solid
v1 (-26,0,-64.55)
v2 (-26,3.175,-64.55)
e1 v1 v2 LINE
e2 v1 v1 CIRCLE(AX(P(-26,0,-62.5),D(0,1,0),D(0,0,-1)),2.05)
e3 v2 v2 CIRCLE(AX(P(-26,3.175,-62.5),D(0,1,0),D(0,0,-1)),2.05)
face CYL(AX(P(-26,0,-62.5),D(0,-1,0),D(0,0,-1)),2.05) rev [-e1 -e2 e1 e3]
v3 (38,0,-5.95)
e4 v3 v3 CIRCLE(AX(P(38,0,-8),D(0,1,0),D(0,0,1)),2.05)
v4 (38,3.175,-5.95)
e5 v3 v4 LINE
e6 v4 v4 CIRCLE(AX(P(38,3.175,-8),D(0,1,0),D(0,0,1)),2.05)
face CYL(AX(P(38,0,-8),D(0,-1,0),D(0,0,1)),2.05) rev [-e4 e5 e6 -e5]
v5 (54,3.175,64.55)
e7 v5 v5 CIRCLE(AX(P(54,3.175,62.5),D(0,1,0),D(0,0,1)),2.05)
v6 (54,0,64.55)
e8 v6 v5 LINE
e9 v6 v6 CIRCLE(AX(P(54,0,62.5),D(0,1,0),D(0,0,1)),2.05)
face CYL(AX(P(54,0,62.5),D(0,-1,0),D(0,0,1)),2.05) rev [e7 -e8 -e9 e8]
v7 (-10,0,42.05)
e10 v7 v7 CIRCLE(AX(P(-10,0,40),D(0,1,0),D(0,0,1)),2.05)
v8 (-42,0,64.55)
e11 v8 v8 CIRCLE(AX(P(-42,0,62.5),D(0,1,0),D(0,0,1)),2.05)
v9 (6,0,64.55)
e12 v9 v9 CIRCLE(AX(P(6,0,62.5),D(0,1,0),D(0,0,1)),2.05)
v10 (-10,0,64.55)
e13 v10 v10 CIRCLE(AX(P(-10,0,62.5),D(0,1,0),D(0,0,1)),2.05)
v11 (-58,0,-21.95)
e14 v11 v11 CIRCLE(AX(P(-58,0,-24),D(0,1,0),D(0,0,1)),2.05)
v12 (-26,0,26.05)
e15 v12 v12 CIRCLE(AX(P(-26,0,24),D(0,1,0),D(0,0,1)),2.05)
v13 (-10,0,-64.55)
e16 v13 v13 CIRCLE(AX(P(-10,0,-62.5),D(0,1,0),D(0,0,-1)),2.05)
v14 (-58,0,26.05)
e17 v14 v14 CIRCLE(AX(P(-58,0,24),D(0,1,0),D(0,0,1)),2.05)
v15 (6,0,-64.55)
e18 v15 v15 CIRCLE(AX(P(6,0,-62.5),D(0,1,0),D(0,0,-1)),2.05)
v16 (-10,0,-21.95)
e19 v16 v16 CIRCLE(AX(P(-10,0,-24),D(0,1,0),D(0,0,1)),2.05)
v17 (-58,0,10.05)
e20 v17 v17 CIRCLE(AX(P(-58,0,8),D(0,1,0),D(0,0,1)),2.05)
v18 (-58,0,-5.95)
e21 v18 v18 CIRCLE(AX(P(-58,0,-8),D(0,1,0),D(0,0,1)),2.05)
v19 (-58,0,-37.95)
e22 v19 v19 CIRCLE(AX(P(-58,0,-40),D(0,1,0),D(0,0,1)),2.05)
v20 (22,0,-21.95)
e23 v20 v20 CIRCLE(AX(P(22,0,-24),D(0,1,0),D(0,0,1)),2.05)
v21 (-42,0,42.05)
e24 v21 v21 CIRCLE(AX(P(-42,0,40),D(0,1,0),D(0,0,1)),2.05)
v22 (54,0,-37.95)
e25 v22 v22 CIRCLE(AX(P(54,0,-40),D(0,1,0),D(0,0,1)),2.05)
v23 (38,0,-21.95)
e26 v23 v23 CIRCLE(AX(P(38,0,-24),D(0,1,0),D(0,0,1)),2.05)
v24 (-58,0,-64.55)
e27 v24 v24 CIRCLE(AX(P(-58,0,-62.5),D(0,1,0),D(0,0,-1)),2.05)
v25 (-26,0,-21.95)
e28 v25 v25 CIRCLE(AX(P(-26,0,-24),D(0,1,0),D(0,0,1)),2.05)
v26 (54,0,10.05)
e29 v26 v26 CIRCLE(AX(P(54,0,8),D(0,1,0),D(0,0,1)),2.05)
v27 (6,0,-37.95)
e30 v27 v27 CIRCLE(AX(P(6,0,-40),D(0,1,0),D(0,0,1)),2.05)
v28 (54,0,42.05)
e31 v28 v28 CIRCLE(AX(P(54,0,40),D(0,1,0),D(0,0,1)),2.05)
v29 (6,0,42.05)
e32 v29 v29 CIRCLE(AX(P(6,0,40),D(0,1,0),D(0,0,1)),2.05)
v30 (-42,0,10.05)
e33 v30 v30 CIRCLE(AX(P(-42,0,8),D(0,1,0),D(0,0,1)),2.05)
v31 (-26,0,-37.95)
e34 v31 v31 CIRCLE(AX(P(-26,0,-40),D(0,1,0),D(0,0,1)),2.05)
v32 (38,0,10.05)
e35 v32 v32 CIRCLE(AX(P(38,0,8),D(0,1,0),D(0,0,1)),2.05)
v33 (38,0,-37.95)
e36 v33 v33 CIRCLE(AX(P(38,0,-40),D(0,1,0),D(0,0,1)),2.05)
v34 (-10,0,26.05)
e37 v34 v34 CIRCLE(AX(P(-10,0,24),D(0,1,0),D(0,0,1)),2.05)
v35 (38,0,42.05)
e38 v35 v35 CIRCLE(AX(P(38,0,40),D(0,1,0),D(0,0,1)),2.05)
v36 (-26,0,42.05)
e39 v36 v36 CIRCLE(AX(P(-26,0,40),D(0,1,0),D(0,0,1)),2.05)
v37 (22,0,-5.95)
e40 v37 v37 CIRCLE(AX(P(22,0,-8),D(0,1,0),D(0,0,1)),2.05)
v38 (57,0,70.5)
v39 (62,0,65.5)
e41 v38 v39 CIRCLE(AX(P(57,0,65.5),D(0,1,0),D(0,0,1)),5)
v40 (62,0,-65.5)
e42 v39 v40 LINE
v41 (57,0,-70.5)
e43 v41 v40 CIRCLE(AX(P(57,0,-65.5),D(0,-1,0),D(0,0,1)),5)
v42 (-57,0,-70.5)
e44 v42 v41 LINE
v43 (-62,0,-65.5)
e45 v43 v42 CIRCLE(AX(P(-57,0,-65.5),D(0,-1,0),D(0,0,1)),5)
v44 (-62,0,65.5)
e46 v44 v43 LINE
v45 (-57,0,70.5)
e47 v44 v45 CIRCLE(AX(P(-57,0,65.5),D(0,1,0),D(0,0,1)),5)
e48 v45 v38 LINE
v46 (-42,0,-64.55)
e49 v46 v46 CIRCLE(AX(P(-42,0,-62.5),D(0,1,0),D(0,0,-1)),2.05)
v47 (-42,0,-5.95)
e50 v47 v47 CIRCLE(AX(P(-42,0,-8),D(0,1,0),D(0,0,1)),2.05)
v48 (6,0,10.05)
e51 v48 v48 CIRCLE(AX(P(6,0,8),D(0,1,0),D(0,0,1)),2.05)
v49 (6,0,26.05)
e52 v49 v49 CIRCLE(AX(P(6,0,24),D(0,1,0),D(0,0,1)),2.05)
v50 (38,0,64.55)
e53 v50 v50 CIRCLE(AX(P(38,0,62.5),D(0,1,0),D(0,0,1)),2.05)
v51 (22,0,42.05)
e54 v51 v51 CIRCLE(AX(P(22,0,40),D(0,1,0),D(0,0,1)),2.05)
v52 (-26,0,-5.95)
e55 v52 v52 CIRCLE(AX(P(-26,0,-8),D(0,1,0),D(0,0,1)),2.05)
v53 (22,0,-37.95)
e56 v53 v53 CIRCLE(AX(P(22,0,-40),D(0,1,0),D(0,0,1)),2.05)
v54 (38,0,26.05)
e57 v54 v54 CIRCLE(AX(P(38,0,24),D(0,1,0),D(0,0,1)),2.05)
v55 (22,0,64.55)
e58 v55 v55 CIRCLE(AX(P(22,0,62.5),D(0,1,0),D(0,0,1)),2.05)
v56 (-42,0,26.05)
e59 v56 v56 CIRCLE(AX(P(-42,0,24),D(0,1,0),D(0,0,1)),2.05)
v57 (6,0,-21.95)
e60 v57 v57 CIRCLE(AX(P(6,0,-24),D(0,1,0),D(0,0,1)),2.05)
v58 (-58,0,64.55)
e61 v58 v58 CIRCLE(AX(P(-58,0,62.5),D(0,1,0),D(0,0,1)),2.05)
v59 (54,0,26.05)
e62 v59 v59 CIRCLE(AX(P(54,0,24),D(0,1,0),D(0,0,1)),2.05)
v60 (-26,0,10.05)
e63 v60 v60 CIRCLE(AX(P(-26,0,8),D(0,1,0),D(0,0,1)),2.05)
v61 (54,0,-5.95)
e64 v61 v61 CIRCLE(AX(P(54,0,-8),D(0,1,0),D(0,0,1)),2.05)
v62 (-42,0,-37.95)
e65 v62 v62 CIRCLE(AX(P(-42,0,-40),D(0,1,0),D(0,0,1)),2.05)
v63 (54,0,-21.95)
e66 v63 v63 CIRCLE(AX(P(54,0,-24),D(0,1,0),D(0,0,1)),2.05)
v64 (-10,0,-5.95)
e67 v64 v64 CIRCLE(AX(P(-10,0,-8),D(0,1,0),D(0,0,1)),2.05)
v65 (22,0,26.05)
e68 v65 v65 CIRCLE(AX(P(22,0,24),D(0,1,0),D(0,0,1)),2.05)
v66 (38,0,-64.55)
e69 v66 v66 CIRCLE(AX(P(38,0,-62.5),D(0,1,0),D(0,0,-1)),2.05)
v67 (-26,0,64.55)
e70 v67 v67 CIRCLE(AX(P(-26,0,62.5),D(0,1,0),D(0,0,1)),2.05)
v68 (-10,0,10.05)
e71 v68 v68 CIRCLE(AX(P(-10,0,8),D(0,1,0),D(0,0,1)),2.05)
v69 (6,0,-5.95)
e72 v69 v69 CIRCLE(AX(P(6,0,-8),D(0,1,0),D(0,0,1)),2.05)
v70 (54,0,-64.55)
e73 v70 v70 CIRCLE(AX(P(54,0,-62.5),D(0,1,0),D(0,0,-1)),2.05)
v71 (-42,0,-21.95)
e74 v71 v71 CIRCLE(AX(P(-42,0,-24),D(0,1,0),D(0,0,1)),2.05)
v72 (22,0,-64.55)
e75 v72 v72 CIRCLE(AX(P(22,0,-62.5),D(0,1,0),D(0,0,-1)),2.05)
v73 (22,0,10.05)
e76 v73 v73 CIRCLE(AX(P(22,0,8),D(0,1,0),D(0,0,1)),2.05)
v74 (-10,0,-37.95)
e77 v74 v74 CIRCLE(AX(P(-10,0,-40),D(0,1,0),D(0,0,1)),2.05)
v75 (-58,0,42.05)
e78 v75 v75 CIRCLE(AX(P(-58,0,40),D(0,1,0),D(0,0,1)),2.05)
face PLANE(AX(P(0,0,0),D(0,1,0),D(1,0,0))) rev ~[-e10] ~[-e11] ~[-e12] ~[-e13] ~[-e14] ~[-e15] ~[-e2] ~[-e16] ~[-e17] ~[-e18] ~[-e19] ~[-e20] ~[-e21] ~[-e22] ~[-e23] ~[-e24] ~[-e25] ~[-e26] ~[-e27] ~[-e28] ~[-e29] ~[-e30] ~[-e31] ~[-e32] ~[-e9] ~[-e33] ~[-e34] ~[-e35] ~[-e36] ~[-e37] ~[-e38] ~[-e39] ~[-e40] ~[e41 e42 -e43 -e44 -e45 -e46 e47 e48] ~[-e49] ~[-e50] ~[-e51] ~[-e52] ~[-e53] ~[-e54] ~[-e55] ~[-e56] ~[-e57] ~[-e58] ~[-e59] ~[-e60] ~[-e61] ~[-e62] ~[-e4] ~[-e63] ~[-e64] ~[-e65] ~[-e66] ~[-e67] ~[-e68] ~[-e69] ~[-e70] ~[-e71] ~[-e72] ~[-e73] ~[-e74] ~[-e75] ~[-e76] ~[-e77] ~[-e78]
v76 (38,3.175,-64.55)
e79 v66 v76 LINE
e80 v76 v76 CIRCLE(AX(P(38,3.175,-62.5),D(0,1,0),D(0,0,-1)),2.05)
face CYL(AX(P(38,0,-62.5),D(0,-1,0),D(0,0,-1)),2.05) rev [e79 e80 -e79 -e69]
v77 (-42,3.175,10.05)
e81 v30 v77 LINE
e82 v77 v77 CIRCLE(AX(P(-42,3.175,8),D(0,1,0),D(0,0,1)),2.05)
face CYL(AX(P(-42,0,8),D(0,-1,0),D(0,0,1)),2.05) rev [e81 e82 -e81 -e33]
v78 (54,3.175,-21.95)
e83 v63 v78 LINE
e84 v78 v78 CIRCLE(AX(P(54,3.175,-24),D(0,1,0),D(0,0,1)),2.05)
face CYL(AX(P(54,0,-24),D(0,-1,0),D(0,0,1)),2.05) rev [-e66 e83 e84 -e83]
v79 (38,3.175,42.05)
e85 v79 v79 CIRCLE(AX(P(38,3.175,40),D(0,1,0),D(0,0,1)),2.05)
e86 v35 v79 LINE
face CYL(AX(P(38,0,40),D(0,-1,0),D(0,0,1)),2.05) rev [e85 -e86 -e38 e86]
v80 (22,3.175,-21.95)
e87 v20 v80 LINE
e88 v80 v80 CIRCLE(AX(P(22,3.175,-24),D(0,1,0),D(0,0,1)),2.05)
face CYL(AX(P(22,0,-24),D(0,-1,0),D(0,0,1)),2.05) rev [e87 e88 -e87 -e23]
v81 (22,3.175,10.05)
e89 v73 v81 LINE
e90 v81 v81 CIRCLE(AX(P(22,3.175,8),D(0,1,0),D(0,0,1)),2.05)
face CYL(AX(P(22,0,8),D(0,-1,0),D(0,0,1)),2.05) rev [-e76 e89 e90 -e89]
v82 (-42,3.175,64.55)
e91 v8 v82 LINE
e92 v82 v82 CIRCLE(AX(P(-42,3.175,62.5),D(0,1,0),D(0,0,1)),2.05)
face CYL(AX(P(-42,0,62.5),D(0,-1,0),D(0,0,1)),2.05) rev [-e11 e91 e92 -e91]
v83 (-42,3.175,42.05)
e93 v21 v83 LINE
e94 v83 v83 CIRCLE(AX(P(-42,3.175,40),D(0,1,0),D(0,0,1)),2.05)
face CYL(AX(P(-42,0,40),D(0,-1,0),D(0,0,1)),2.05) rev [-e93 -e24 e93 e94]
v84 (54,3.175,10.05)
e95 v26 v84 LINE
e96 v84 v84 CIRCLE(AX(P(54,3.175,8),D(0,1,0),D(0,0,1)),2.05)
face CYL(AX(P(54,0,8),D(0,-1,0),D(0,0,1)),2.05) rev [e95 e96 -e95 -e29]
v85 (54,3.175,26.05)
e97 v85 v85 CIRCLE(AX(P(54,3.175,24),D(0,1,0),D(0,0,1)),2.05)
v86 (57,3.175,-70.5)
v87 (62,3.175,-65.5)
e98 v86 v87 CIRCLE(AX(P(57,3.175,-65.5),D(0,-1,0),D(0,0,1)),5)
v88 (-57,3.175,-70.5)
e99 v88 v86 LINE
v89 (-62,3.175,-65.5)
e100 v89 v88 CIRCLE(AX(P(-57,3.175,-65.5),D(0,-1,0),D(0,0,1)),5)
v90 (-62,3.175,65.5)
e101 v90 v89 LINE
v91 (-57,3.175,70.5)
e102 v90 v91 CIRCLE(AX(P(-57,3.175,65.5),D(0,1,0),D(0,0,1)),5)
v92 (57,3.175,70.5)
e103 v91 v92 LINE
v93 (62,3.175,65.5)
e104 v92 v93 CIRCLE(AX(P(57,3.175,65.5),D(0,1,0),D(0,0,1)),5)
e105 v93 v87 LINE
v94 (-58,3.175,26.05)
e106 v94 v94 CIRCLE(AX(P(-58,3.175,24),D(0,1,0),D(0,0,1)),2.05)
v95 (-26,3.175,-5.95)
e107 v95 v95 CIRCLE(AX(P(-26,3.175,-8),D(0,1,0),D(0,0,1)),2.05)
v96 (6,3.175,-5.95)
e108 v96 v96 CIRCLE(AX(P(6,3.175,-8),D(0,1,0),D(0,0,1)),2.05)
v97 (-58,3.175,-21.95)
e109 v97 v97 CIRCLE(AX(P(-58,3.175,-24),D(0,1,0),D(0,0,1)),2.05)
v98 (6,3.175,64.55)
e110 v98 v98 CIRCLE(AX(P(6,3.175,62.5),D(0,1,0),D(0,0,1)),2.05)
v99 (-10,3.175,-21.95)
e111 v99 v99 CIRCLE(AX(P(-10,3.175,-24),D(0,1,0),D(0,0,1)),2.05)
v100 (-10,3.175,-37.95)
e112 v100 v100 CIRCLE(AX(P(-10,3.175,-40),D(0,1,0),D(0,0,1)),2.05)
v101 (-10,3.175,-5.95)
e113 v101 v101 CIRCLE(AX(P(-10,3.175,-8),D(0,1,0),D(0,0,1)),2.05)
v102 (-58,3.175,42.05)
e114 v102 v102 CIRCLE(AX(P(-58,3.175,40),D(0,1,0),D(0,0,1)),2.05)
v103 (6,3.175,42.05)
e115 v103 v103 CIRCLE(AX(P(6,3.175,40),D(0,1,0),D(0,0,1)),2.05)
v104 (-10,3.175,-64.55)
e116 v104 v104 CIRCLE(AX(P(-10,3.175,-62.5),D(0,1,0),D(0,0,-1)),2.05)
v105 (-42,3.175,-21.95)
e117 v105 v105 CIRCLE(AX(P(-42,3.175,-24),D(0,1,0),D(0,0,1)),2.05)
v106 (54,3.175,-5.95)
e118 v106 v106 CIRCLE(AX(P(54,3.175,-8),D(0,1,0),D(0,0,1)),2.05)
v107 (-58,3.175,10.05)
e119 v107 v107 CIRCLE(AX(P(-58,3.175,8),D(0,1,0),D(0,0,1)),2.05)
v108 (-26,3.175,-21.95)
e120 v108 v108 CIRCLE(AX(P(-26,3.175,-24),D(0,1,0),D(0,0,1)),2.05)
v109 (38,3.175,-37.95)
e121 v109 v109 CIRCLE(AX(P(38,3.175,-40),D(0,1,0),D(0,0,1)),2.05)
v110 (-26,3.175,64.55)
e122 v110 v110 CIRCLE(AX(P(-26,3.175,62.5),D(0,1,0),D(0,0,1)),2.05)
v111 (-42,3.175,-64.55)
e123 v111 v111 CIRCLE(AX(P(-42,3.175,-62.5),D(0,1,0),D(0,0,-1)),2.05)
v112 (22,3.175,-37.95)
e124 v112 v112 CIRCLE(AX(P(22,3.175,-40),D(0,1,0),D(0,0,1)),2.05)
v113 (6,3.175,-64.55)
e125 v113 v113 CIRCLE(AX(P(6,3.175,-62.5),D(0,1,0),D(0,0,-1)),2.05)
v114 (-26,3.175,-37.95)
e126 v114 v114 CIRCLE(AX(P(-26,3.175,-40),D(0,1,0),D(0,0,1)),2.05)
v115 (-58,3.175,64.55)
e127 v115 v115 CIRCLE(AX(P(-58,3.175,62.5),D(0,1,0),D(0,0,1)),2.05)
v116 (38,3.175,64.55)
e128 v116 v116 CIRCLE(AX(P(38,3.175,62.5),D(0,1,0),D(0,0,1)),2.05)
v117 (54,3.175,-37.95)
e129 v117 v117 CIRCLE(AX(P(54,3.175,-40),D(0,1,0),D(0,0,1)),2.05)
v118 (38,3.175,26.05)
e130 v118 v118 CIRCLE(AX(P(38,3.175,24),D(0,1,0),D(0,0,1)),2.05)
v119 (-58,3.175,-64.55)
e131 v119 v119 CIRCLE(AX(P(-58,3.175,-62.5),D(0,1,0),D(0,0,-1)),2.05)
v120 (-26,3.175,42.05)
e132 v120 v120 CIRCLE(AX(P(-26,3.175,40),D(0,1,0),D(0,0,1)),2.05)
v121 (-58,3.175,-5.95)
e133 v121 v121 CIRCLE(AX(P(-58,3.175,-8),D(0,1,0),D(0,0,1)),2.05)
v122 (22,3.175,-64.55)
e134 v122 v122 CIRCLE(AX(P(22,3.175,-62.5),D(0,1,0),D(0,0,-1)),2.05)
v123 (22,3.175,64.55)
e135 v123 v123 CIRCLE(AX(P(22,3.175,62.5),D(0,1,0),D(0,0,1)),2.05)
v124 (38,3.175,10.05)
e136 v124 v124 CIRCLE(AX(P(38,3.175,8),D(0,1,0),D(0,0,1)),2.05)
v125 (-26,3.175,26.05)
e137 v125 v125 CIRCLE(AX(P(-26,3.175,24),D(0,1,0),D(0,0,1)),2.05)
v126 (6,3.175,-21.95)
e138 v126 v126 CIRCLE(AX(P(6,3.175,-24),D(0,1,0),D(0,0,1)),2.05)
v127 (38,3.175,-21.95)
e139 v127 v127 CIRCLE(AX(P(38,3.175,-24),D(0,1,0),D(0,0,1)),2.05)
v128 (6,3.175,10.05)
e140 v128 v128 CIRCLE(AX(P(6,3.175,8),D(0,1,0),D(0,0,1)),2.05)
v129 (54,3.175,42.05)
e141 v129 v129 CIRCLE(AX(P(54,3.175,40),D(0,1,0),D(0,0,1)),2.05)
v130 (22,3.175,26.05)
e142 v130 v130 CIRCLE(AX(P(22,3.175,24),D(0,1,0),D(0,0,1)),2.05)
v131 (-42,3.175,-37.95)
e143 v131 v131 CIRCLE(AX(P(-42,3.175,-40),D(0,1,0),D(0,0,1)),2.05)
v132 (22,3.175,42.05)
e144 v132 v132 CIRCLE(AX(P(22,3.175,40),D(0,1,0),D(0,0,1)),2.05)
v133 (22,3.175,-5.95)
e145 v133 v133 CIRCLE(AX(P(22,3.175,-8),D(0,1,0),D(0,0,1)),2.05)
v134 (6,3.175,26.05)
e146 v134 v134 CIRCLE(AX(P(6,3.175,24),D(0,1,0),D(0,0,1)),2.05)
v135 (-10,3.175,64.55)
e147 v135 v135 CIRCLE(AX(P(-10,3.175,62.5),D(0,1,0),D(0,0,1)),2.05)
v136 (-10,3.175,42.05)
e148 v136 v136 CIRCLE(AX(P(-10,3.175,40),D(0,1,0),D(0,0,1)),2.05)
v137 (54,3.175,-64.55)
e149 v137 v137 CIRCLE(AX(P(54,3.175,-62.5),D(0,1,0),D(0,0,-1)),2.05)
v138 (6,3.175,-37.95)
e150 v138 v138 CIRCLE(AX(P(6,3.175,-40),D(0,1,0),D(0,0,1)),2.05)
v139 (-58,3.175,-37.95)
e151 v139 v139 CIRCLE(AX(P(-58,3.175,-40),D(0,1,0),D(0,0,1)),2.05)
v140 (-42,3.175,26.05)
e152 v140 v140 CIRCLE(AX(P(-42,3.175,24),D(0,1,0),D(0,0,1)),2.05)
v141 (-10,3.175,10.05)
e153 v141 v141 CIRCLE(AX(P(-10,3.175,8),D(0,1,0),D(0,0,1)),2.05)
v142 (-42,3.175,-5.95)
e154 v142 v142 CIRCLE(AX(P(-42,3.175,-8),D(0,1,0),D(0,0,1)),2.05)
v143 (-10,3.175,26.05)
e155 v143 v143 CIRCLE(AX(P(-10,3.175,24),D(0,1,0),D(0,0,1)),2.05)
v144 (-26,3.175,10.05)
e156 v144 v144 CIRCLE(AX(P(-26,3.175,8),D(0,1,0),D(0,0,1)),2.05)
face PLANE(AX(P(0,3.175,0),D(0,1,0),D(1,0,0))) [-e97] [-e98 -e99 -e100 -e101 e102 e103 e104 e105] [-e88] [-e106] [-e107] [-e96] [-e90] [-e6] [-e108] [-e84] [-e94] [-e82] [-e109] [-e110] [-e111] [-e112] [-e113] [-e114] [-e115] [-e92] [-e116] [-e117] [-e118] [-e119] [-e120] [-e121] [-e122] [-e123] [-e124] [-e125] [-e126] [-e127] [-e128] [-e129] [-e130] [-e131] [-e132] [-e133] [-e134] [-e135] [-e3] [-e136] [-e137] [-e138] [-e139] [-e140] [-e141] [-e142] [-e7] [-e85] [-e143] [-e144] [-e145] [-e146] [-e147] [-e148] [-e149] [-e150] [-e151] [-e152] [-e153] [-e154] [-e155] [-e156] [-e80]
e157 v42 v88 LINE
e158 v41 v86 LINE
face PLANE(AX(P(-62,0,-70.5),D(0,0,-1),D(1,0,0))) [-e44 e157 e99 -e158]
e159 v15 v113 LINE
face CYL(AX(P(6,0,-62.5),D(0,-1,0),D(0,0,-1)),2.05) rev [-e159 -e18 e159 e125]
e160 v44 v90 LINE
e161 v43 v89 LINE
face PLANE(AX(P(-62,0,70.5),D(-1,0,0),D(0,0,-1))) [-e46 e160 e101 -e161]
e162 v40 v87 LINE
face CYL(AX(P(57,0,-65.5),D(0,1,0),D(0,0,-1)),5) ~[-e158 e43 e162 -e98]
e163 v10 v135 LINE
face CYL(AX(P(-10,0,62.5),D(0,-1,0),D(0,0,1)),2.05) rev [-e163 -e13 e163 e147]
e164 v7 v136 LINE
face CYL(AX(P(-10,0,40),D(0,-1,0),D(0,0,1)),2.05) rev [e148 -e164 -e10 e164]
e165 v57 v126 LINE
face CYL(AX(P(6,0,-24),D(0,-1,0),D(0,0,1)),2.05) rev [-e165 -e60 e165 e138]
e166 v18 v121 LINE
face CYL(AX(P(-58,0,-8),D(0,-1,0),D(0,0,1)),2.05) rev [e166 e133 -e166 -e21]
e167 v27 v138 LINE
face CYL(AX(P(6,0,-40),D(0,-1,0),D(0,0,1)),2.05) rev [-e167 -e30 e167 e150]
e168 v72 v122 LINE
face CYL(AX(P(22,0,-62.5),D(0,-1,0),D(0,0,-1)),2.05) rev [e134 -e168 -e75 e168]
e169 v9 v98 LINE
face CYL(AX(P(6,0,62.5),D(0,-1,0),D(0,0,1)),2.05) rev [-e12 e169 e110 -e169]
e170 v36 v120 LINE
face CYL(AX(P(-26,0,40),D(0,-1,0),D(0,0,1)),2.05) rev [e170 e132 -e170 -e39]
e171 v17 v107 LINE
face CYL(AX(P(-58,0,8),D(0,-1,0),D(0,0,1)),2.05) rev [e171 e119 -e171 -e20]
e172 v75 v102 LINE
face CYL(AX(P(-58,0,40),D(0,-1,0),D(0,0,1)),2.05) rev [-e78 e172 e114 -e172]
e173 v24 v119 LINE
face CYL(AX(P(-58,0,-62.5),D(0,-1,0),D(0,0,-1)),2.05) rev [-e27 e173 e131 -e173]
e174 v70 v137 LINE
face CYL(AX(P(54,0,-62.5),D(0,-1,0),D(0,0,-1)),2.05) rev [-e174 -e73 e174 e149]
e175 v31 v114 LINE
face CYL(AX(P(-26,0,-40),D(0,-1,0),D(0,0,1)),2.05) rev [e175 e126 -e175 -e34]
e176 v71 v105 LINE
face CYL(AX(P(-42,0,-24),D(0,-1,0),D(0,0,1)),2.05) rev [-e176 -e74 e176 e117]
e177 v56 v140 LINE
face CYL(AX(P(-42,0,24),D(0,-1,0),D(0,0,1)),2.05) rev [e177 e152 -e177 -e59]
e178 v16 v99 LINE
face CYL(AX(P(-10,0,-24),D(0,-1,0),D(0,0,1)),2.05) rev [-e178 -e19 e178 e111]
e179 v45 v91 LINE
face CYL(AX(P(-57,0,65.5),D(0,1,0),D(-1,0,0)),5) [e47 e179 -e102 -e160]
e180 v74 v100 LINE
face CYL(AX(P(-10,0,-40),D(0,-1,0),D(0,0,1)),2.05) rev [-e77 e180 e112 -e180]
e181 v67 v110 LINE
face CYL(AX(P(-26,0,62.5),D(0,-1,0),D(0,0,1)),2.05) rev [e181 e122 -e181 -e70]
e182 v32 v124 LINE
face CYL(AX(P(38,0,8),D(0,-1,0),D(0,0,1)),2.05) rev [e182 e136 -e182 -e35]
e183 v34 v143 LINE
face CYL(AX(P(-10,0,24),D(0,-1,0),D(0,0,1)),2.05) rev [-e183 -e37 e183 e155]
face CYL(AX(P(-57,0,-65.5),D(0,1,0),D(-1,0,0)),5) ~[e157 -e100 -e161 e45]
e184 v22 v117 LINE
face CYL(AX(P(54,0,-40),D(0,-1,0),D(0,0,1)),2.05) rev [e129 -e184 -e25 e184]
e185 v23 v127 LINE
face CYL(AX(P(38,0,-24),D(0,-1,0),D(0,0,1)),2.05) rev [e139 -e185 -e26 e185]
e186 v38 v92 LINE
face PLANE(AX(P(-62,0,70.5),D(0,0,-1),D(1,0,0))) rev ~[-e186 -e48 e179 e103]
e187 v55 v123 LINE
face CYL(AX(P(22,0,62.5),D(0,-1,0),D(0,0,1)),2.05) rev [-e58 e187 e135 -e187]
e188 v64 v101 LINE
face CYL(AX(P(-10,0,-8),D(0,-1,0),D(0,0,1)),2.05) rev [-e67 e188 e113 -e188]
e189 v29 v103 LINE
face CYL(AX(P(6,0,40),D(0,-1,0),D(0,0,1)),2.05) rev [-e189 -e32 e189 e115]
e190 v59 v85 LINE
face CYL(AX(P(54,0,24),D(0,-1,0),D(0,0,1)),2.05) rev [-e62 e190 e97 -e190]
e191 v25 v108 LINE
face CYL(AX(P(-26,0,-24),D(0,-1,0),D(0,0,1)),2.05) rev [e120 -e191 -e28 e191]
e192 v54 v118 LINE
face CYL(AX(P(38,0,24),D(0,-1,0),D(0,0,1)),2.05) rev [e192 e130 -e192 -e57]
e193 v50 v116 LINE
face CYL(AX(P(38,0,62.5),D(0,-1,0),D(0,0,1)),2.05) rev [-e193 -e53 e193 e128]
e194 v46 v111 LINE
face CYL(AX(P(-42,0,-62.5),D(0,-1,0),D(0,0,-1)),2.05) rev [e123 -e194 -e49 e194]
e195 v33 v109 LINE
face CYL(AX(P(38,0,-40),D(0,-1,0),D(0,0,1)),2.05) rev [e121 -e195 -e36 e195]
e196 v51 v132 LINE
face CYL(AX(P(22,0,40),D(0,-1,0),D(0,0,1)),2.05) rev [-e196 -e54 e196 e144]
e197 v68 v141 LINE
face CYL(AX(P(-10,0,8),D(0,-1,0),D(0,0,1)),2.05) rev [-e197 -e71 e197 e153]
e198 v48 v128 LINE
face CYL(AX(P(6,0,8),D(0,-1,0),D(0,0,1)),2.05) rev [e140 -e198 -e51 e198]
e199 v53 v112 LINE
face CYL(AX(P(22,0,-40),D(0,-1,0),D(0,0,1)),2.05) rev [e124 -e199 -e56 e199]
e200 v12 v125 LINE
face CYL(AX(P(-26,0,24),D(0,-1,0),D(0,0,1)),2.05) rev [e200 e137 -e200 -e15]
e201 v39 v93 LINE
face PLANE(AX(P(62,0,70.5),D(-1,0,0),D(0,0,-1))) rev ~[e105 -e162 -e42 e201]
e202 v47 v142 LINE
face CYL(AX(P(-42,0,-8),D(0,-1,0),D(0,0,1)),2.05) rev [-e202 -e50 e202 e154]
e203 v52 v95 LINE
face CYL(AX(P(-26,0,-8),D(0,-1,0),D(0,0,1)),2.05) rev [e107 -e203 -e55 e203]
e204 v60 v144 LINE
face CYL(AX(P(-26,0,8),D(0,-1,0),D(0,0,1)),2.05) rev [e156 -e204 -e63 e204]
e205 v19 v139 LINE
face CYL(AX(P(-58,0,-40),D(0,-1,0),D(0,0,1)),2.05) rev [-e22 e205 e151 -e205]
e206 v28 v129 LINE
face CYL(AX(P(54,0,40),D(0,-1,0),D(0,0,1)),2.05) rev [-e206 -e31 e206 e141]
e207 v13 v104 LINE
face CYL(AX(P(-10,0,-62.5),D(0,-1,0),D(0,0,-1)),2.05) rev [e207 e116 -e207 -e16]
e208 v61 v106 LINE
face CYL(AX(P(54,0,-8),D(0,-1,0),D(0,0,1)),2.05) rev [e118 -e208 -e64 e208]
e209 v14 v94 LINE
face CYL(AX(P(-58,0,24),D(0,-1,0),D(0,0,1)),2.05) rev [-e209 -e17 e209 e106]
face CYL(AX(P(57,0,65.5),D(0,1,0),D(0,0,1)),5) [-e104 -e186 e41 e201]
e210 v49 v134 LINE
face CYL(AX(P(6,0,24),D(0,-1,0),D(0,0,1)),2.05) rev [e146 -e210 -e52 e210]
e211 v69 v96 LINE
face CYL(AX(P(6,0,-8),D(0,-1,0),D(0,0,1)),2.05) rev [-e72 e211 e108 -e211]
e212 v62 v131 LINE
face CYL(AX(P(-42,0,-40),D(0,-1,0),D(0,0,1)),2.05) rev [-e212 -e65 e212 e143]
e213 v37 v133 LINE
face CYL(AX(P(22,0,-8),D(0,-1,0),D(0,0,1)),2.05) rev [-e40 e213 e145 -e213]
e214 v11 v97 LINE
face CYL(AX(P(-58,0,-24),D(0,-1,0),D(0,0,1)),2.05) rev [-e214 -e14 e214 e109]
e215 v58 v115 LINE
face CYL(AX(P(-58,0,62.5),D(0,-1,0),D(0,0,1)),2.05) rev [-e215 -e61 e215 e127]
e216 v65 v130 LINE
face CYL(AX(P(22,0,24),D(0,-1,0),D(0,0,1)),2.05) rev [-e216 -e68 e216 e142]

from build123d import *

# Parameters (mm, degrees)
SKETCH1_W           = 124
SKETCH1_H           = 141
SKETCH1_R           = 2.05
BOSS_EXTRUDE1_DEPTH = 3.175
FILLET1_R           = 5


with BuildPart() as part:
    # Sketch1 → Boss-Extrude1 (new body)
    with BuildSketch(Plane(origin=(0, 0, 0), x_dir=(1, 0, 0), z_dir=(0, 1, 0))):
        Rectangle(SKETCH1_W, SKETCH1_H)
        with Locations(Location((-58, -62.5, 0), (0, 0, 270))):
            Circle(SKETCH1_R, mode=Mode.SUBTRACT)
        with Locations(Location((-42, -62.5, 0), (0, 0, 270))):
            Circle(SKETCH1_R, mode=Mode.SUBTRACT)
        with Locations(Location((-26, -62.5, 0), (0, 0, 270))):
            Circle(SKETCH1_R, mode=Mode.SUBTRACT)
        with Locations(Location((-10, -62.5, 0), (0, 0, 270))):
            Circle(SKETCH1_R, mode=Mode.SUBTRACT)
        with Locations(Location((6, -62.5, 0), (0, 0, 270))):
            Circle(SKETCH1_R, mode=Mode.SUBTRACT)
        with Locations(Location((22, -62.5, 0), (0, 0, 270))):
            Circle(SKETCH1_R, mode=Mode.SUBTRACT)
        with Locations(Location((38, -62.5, 0), (0, 0, 270))):
            Circle(SKETCH1_R, mode=Mode.SUBTRACT)
        with Locations(Location((54, -62.5, 0), (0, 0, 270))):
            Circle(SKETCH1_R, mode=Mode.SUBTRACT)
        with Locations(Location((38, -40, 0), (0, 0, 270))):
            Circle(SKETCH1_R, mode=Mode.SUBTRACT)
        with Locations(Location((22, -40, 0), (0, 0, 270))):
            Circle(SKETCH1_R, mode=Mode.SUBTRACT)
        with Locations(Location((6, -40, 0), (0, 0, 270))):
            Circle(SKETCH1_R, mode=Mode.SUBTRACT)
        with Locations(Location((-10, -40, 0), (0, 0, 270))):
            Circle(SKETCH1_R, mode=Mode.SUBTRACT)
        with Locations(Location((-26, -40, 0), (0, 0, 270))):
            Circle(SKETCH1_R, mode=Mode.SUBTRACT)
        with Locations(Location((-42, -40, 0), (0, 0, 270))):
            Circle(SKETCH1_R, mode=Mode.SUBTRACT)
        with Locations(Location((-58, -40, 0), (0, 0, 270))):
            Circle(SKETCH1_R, mode=Mode.SUBTRACT)
        with Locations(Location((38, -24, 0), (0, 0, 270))):
            Circle(SKETCH1_R, mode=Mode.SUBTRACT)
        with Locations(Location((22, -24, 0), (0, 0, 270))):
            Circle(SKETCH1_R, mode=Mode.SUBTRACT)
        with Locations(Location((6, -24, 0), (0, 0, 270))):
            Circle(SKETCH1_R, mode=Mode.SUBTRACT)
        with Locations(Location((-10, -24, 0), (0, 0, 270))):
            Circle(SKETCH1_R, mode=Mode.SUBTRACT)
        with Locations(Location((-26, -24, 0), (0, 0, 270))):
            Circle(SKETCH1_R, mode=Mode.SUBTRACT)
        with Locations(Location((-42, -24, 0), (0, 0, 270))):
            Circle(SKETCH1_R, mode=Mode.SUBTRACT)
        with Locations(Location((-58, -24, 0), (0, 0, 270))):
            Circle(SKETCH1_R, mode=Mode.SUBTRACT)
        with Locations(Location((38, -8, 0), (0, 0, 270))):
            Circle(SKETCH1_R, mode=Mode.SUBTRACT)
        with Locations(Location((22, -8, 0), (0, 0, 270))):
            Circle(SKETCH1_R, mode=Mode.SUBTRACT)
        with Locations(Location((6, -8, 0), (0, 0, 270))):
            Circle(SKETCH1_R, mode=Mode.SUBTRACT)
        with Locations(Location((-10, -8, 0), (0, 0, 270))):
            Circle(SKETCH1_R, mode=Mode.SUBTRACT)
        with Locations(Location((-26, -8, 0), (0, 0, 270))):
            Circle(SKETCH1_R, mode=Mode.SUBTRACT)
        with Locations(Location((-42, -8, 0), (0, 0, 270))):
            Circle(SKETCH1_R, mode=Mode.SUBTRACT)
        with Locations(Location((-58, -8, 0), (0, 0, 270))):
            Circle(SKETCH1_R, mode=Mode.SUBTRACT)
        with Locations(Location((38, 8, 0), (0, 0, 270))):
            Circle(SKETCH1_R, mode=Mode.SUBTRACT)
        with Locations(Location((22, 8, 0), (0, 0, 270))):
            Circle(SKETCH1_R, mode=Mode.SUBTRACT)
        with Locations(Location((6, 8, 0), (0, 0, 270))):
            Circle(SKETCH1_R, mode=Mode.SUBTRACT)
        with Locations(Location((-10, 8, 0), (0, 0, 270))):
            Circle(SKETCH1_R, mode=Mode.SUBTRACT)
        with Locations(Location((-26, 8, 0), (0, 0, 270))):
            Circle(SKETCH1_R, mode=Mode.SUBTRACT)
        with Locations(Location((-42, 8, 0), (0, 0, 270))):
            Circle(SKETCH1_R, mode=Mode.SUBTRACT)
        with Locations(Location((-58, 8, 0), (0, 0, 270))):
            Circle(SKETCH1_R, mode=Mode.SUBTRACT)
        with Locations(Location((38, 24, 0), (0, 0, 270))):
            Circle(SKETCH1_R, mode=Mode.SUBTRACT)
        with Locations(Location((22, 24, 0), (0, 0, 270))):
            Circle(SKETCH1_R, mode=Mode.SUBTRACT)
        with Locations(Location((6, 24, 0), (0, 0, 270))):
            Circle(SKETCH1_R, mode=Mode.SUBTRACT)
        with Locations(Location((-10, 24, 0), (0, 0, 270))):
            Circle(SKETCH1_R, mode=Mode.SUBTRACT)
        with Locations(Location((-26, 24, 0), (0, 0, 270))):
            Circle(SKETCH1_R, mode=Mode.SUBTRACT)
        with Locations(Location((-42, 24, 0), (0, 0, 270))):
            Circle(SKETCH1_R, mode=Mode.SUBTRACT)
        with Locations(Location((-58, 24, 0), (0, 0, 270))):
            Circle(SKETCH1_R, mode=Mode.SUBTRACT)
        with Locations(Location((38, 40, 0), (0, 0, 270))):
            Circle(SKETCH1_R, mode=Mode.SUBTRACT)
        with Locations(Location((22, 40, 0), (0, 0, 270))):
            Circle(SKETCH1_R, mode=Mode.SUBTRACT)
        with Locations(Location((6, 40, 0), (0, 0, 270))):
            Circle(SKETCH1_R, mode=Mode.SUBTRACT)
        with Locations(Location((-10, 40, 0), (0, 0, 270))):
            Circle(SKETCH1_R, mode=Mode.SUBTRACT)
        with Locations(Location((-26, 40, 0), (0, 0, 270))):
            Circle(SKETCH1_R, mode=Mode.SUBTRACT)
        with Locations(Location((-42, 40, 0), (0, 0, 270))):
            Circle(SKETCH1_R, mode=Mode.SUBTRACT)
        with Locations(Location((-58, 40, 0), (0, 0, 270))):
            Circle(SKETCH1_R, mode=Mode.SUBTRACT)
        with Locations(Location((54, -40, 0), (0, 0, 270))):
            Circle(SKETCH1_R, mode=Mode.SUBTRACT)
        with Locations(Location((54, -24, 0), (0, 0, 270))):
            Circle(SKETCH1_R, mode=Mode.SUBTRACT)
        with Locations(Location((54, -8, 0), (0, 0, 270))):
            Circle(SKETCH1_R, mode=Mode.SUBTRACT)
        with Locations(Location((54, 8, 0), (0, 0, 270))):
            Circle(SKETCH1_R, mode=Mode.SUBTRACT)
        with Locations(Location((54, 24, 0), (0, 0, 270))):
            Circle(SKETCH1_R, mode=Mode.SUBTRACT)
        with Locations(Location((54, 40, 0), (0, 0, 270))):
            Circle(SKETCH1_R, mode=Mode.SUBTRACT)
        with Locations(Location((-58, 62.5, 0), (0, 0, 90))):
            Circle(SKETCH1_R, mode=Mode.SUBTRACT)
        with Locations(Location((-42, 62.5, 0), (0, 0, 90))):
            Circle(SKETCH1_R, mode=Mode.SUBTRACT)
        with Locations(Location((-26, 62.5, 0), (0, 0, 90))):
            Circle(SKETCH1_R, mode=Mode.SUBTRACT)
        with Locations(Location((-10, 62.5, 0), (0, 0, 90))):
            Circle(SKETCH1_R, mode=Mode.SUBTRACT)
        with Locations(Location((6, 62.5, 0), (0, 0, 90))):
            Circle(SKETCH1_R, mode=Mode.SUBTRACT)
        with Locations(Location((22, 62.5, 0), (0, 0, 90))):
            Circle(SKETCH1_R, mode=Mode.SUBTRACT)
        with Locations(Location((38, 62.5, 0), (0, 0, 90))):
            Circle(SKETCH1_R, mode=Mode.SUBTRACT)
        with Locations(Location((54, 62.5, 0), (0, 0, 90))):
            Circle(SKETCH1_R, mode=Mode.SUBTRACT)
    extrude(amount=BOSS_EXTRUDE1_DEPTH)

    # Fillet1
    fillet1_edges = [part.edges().sort_by_distance(p)[0] for p in [
        (-62, 1.5875, -70.5),
        (62, 1.5875, -70.5),
        (62, 1.5875, 70.5),
        (-62, 1.5875, 70.5),
    ]]
    fillet(fillet1_edges, radius=FILLET1_R)


solid = part.part
